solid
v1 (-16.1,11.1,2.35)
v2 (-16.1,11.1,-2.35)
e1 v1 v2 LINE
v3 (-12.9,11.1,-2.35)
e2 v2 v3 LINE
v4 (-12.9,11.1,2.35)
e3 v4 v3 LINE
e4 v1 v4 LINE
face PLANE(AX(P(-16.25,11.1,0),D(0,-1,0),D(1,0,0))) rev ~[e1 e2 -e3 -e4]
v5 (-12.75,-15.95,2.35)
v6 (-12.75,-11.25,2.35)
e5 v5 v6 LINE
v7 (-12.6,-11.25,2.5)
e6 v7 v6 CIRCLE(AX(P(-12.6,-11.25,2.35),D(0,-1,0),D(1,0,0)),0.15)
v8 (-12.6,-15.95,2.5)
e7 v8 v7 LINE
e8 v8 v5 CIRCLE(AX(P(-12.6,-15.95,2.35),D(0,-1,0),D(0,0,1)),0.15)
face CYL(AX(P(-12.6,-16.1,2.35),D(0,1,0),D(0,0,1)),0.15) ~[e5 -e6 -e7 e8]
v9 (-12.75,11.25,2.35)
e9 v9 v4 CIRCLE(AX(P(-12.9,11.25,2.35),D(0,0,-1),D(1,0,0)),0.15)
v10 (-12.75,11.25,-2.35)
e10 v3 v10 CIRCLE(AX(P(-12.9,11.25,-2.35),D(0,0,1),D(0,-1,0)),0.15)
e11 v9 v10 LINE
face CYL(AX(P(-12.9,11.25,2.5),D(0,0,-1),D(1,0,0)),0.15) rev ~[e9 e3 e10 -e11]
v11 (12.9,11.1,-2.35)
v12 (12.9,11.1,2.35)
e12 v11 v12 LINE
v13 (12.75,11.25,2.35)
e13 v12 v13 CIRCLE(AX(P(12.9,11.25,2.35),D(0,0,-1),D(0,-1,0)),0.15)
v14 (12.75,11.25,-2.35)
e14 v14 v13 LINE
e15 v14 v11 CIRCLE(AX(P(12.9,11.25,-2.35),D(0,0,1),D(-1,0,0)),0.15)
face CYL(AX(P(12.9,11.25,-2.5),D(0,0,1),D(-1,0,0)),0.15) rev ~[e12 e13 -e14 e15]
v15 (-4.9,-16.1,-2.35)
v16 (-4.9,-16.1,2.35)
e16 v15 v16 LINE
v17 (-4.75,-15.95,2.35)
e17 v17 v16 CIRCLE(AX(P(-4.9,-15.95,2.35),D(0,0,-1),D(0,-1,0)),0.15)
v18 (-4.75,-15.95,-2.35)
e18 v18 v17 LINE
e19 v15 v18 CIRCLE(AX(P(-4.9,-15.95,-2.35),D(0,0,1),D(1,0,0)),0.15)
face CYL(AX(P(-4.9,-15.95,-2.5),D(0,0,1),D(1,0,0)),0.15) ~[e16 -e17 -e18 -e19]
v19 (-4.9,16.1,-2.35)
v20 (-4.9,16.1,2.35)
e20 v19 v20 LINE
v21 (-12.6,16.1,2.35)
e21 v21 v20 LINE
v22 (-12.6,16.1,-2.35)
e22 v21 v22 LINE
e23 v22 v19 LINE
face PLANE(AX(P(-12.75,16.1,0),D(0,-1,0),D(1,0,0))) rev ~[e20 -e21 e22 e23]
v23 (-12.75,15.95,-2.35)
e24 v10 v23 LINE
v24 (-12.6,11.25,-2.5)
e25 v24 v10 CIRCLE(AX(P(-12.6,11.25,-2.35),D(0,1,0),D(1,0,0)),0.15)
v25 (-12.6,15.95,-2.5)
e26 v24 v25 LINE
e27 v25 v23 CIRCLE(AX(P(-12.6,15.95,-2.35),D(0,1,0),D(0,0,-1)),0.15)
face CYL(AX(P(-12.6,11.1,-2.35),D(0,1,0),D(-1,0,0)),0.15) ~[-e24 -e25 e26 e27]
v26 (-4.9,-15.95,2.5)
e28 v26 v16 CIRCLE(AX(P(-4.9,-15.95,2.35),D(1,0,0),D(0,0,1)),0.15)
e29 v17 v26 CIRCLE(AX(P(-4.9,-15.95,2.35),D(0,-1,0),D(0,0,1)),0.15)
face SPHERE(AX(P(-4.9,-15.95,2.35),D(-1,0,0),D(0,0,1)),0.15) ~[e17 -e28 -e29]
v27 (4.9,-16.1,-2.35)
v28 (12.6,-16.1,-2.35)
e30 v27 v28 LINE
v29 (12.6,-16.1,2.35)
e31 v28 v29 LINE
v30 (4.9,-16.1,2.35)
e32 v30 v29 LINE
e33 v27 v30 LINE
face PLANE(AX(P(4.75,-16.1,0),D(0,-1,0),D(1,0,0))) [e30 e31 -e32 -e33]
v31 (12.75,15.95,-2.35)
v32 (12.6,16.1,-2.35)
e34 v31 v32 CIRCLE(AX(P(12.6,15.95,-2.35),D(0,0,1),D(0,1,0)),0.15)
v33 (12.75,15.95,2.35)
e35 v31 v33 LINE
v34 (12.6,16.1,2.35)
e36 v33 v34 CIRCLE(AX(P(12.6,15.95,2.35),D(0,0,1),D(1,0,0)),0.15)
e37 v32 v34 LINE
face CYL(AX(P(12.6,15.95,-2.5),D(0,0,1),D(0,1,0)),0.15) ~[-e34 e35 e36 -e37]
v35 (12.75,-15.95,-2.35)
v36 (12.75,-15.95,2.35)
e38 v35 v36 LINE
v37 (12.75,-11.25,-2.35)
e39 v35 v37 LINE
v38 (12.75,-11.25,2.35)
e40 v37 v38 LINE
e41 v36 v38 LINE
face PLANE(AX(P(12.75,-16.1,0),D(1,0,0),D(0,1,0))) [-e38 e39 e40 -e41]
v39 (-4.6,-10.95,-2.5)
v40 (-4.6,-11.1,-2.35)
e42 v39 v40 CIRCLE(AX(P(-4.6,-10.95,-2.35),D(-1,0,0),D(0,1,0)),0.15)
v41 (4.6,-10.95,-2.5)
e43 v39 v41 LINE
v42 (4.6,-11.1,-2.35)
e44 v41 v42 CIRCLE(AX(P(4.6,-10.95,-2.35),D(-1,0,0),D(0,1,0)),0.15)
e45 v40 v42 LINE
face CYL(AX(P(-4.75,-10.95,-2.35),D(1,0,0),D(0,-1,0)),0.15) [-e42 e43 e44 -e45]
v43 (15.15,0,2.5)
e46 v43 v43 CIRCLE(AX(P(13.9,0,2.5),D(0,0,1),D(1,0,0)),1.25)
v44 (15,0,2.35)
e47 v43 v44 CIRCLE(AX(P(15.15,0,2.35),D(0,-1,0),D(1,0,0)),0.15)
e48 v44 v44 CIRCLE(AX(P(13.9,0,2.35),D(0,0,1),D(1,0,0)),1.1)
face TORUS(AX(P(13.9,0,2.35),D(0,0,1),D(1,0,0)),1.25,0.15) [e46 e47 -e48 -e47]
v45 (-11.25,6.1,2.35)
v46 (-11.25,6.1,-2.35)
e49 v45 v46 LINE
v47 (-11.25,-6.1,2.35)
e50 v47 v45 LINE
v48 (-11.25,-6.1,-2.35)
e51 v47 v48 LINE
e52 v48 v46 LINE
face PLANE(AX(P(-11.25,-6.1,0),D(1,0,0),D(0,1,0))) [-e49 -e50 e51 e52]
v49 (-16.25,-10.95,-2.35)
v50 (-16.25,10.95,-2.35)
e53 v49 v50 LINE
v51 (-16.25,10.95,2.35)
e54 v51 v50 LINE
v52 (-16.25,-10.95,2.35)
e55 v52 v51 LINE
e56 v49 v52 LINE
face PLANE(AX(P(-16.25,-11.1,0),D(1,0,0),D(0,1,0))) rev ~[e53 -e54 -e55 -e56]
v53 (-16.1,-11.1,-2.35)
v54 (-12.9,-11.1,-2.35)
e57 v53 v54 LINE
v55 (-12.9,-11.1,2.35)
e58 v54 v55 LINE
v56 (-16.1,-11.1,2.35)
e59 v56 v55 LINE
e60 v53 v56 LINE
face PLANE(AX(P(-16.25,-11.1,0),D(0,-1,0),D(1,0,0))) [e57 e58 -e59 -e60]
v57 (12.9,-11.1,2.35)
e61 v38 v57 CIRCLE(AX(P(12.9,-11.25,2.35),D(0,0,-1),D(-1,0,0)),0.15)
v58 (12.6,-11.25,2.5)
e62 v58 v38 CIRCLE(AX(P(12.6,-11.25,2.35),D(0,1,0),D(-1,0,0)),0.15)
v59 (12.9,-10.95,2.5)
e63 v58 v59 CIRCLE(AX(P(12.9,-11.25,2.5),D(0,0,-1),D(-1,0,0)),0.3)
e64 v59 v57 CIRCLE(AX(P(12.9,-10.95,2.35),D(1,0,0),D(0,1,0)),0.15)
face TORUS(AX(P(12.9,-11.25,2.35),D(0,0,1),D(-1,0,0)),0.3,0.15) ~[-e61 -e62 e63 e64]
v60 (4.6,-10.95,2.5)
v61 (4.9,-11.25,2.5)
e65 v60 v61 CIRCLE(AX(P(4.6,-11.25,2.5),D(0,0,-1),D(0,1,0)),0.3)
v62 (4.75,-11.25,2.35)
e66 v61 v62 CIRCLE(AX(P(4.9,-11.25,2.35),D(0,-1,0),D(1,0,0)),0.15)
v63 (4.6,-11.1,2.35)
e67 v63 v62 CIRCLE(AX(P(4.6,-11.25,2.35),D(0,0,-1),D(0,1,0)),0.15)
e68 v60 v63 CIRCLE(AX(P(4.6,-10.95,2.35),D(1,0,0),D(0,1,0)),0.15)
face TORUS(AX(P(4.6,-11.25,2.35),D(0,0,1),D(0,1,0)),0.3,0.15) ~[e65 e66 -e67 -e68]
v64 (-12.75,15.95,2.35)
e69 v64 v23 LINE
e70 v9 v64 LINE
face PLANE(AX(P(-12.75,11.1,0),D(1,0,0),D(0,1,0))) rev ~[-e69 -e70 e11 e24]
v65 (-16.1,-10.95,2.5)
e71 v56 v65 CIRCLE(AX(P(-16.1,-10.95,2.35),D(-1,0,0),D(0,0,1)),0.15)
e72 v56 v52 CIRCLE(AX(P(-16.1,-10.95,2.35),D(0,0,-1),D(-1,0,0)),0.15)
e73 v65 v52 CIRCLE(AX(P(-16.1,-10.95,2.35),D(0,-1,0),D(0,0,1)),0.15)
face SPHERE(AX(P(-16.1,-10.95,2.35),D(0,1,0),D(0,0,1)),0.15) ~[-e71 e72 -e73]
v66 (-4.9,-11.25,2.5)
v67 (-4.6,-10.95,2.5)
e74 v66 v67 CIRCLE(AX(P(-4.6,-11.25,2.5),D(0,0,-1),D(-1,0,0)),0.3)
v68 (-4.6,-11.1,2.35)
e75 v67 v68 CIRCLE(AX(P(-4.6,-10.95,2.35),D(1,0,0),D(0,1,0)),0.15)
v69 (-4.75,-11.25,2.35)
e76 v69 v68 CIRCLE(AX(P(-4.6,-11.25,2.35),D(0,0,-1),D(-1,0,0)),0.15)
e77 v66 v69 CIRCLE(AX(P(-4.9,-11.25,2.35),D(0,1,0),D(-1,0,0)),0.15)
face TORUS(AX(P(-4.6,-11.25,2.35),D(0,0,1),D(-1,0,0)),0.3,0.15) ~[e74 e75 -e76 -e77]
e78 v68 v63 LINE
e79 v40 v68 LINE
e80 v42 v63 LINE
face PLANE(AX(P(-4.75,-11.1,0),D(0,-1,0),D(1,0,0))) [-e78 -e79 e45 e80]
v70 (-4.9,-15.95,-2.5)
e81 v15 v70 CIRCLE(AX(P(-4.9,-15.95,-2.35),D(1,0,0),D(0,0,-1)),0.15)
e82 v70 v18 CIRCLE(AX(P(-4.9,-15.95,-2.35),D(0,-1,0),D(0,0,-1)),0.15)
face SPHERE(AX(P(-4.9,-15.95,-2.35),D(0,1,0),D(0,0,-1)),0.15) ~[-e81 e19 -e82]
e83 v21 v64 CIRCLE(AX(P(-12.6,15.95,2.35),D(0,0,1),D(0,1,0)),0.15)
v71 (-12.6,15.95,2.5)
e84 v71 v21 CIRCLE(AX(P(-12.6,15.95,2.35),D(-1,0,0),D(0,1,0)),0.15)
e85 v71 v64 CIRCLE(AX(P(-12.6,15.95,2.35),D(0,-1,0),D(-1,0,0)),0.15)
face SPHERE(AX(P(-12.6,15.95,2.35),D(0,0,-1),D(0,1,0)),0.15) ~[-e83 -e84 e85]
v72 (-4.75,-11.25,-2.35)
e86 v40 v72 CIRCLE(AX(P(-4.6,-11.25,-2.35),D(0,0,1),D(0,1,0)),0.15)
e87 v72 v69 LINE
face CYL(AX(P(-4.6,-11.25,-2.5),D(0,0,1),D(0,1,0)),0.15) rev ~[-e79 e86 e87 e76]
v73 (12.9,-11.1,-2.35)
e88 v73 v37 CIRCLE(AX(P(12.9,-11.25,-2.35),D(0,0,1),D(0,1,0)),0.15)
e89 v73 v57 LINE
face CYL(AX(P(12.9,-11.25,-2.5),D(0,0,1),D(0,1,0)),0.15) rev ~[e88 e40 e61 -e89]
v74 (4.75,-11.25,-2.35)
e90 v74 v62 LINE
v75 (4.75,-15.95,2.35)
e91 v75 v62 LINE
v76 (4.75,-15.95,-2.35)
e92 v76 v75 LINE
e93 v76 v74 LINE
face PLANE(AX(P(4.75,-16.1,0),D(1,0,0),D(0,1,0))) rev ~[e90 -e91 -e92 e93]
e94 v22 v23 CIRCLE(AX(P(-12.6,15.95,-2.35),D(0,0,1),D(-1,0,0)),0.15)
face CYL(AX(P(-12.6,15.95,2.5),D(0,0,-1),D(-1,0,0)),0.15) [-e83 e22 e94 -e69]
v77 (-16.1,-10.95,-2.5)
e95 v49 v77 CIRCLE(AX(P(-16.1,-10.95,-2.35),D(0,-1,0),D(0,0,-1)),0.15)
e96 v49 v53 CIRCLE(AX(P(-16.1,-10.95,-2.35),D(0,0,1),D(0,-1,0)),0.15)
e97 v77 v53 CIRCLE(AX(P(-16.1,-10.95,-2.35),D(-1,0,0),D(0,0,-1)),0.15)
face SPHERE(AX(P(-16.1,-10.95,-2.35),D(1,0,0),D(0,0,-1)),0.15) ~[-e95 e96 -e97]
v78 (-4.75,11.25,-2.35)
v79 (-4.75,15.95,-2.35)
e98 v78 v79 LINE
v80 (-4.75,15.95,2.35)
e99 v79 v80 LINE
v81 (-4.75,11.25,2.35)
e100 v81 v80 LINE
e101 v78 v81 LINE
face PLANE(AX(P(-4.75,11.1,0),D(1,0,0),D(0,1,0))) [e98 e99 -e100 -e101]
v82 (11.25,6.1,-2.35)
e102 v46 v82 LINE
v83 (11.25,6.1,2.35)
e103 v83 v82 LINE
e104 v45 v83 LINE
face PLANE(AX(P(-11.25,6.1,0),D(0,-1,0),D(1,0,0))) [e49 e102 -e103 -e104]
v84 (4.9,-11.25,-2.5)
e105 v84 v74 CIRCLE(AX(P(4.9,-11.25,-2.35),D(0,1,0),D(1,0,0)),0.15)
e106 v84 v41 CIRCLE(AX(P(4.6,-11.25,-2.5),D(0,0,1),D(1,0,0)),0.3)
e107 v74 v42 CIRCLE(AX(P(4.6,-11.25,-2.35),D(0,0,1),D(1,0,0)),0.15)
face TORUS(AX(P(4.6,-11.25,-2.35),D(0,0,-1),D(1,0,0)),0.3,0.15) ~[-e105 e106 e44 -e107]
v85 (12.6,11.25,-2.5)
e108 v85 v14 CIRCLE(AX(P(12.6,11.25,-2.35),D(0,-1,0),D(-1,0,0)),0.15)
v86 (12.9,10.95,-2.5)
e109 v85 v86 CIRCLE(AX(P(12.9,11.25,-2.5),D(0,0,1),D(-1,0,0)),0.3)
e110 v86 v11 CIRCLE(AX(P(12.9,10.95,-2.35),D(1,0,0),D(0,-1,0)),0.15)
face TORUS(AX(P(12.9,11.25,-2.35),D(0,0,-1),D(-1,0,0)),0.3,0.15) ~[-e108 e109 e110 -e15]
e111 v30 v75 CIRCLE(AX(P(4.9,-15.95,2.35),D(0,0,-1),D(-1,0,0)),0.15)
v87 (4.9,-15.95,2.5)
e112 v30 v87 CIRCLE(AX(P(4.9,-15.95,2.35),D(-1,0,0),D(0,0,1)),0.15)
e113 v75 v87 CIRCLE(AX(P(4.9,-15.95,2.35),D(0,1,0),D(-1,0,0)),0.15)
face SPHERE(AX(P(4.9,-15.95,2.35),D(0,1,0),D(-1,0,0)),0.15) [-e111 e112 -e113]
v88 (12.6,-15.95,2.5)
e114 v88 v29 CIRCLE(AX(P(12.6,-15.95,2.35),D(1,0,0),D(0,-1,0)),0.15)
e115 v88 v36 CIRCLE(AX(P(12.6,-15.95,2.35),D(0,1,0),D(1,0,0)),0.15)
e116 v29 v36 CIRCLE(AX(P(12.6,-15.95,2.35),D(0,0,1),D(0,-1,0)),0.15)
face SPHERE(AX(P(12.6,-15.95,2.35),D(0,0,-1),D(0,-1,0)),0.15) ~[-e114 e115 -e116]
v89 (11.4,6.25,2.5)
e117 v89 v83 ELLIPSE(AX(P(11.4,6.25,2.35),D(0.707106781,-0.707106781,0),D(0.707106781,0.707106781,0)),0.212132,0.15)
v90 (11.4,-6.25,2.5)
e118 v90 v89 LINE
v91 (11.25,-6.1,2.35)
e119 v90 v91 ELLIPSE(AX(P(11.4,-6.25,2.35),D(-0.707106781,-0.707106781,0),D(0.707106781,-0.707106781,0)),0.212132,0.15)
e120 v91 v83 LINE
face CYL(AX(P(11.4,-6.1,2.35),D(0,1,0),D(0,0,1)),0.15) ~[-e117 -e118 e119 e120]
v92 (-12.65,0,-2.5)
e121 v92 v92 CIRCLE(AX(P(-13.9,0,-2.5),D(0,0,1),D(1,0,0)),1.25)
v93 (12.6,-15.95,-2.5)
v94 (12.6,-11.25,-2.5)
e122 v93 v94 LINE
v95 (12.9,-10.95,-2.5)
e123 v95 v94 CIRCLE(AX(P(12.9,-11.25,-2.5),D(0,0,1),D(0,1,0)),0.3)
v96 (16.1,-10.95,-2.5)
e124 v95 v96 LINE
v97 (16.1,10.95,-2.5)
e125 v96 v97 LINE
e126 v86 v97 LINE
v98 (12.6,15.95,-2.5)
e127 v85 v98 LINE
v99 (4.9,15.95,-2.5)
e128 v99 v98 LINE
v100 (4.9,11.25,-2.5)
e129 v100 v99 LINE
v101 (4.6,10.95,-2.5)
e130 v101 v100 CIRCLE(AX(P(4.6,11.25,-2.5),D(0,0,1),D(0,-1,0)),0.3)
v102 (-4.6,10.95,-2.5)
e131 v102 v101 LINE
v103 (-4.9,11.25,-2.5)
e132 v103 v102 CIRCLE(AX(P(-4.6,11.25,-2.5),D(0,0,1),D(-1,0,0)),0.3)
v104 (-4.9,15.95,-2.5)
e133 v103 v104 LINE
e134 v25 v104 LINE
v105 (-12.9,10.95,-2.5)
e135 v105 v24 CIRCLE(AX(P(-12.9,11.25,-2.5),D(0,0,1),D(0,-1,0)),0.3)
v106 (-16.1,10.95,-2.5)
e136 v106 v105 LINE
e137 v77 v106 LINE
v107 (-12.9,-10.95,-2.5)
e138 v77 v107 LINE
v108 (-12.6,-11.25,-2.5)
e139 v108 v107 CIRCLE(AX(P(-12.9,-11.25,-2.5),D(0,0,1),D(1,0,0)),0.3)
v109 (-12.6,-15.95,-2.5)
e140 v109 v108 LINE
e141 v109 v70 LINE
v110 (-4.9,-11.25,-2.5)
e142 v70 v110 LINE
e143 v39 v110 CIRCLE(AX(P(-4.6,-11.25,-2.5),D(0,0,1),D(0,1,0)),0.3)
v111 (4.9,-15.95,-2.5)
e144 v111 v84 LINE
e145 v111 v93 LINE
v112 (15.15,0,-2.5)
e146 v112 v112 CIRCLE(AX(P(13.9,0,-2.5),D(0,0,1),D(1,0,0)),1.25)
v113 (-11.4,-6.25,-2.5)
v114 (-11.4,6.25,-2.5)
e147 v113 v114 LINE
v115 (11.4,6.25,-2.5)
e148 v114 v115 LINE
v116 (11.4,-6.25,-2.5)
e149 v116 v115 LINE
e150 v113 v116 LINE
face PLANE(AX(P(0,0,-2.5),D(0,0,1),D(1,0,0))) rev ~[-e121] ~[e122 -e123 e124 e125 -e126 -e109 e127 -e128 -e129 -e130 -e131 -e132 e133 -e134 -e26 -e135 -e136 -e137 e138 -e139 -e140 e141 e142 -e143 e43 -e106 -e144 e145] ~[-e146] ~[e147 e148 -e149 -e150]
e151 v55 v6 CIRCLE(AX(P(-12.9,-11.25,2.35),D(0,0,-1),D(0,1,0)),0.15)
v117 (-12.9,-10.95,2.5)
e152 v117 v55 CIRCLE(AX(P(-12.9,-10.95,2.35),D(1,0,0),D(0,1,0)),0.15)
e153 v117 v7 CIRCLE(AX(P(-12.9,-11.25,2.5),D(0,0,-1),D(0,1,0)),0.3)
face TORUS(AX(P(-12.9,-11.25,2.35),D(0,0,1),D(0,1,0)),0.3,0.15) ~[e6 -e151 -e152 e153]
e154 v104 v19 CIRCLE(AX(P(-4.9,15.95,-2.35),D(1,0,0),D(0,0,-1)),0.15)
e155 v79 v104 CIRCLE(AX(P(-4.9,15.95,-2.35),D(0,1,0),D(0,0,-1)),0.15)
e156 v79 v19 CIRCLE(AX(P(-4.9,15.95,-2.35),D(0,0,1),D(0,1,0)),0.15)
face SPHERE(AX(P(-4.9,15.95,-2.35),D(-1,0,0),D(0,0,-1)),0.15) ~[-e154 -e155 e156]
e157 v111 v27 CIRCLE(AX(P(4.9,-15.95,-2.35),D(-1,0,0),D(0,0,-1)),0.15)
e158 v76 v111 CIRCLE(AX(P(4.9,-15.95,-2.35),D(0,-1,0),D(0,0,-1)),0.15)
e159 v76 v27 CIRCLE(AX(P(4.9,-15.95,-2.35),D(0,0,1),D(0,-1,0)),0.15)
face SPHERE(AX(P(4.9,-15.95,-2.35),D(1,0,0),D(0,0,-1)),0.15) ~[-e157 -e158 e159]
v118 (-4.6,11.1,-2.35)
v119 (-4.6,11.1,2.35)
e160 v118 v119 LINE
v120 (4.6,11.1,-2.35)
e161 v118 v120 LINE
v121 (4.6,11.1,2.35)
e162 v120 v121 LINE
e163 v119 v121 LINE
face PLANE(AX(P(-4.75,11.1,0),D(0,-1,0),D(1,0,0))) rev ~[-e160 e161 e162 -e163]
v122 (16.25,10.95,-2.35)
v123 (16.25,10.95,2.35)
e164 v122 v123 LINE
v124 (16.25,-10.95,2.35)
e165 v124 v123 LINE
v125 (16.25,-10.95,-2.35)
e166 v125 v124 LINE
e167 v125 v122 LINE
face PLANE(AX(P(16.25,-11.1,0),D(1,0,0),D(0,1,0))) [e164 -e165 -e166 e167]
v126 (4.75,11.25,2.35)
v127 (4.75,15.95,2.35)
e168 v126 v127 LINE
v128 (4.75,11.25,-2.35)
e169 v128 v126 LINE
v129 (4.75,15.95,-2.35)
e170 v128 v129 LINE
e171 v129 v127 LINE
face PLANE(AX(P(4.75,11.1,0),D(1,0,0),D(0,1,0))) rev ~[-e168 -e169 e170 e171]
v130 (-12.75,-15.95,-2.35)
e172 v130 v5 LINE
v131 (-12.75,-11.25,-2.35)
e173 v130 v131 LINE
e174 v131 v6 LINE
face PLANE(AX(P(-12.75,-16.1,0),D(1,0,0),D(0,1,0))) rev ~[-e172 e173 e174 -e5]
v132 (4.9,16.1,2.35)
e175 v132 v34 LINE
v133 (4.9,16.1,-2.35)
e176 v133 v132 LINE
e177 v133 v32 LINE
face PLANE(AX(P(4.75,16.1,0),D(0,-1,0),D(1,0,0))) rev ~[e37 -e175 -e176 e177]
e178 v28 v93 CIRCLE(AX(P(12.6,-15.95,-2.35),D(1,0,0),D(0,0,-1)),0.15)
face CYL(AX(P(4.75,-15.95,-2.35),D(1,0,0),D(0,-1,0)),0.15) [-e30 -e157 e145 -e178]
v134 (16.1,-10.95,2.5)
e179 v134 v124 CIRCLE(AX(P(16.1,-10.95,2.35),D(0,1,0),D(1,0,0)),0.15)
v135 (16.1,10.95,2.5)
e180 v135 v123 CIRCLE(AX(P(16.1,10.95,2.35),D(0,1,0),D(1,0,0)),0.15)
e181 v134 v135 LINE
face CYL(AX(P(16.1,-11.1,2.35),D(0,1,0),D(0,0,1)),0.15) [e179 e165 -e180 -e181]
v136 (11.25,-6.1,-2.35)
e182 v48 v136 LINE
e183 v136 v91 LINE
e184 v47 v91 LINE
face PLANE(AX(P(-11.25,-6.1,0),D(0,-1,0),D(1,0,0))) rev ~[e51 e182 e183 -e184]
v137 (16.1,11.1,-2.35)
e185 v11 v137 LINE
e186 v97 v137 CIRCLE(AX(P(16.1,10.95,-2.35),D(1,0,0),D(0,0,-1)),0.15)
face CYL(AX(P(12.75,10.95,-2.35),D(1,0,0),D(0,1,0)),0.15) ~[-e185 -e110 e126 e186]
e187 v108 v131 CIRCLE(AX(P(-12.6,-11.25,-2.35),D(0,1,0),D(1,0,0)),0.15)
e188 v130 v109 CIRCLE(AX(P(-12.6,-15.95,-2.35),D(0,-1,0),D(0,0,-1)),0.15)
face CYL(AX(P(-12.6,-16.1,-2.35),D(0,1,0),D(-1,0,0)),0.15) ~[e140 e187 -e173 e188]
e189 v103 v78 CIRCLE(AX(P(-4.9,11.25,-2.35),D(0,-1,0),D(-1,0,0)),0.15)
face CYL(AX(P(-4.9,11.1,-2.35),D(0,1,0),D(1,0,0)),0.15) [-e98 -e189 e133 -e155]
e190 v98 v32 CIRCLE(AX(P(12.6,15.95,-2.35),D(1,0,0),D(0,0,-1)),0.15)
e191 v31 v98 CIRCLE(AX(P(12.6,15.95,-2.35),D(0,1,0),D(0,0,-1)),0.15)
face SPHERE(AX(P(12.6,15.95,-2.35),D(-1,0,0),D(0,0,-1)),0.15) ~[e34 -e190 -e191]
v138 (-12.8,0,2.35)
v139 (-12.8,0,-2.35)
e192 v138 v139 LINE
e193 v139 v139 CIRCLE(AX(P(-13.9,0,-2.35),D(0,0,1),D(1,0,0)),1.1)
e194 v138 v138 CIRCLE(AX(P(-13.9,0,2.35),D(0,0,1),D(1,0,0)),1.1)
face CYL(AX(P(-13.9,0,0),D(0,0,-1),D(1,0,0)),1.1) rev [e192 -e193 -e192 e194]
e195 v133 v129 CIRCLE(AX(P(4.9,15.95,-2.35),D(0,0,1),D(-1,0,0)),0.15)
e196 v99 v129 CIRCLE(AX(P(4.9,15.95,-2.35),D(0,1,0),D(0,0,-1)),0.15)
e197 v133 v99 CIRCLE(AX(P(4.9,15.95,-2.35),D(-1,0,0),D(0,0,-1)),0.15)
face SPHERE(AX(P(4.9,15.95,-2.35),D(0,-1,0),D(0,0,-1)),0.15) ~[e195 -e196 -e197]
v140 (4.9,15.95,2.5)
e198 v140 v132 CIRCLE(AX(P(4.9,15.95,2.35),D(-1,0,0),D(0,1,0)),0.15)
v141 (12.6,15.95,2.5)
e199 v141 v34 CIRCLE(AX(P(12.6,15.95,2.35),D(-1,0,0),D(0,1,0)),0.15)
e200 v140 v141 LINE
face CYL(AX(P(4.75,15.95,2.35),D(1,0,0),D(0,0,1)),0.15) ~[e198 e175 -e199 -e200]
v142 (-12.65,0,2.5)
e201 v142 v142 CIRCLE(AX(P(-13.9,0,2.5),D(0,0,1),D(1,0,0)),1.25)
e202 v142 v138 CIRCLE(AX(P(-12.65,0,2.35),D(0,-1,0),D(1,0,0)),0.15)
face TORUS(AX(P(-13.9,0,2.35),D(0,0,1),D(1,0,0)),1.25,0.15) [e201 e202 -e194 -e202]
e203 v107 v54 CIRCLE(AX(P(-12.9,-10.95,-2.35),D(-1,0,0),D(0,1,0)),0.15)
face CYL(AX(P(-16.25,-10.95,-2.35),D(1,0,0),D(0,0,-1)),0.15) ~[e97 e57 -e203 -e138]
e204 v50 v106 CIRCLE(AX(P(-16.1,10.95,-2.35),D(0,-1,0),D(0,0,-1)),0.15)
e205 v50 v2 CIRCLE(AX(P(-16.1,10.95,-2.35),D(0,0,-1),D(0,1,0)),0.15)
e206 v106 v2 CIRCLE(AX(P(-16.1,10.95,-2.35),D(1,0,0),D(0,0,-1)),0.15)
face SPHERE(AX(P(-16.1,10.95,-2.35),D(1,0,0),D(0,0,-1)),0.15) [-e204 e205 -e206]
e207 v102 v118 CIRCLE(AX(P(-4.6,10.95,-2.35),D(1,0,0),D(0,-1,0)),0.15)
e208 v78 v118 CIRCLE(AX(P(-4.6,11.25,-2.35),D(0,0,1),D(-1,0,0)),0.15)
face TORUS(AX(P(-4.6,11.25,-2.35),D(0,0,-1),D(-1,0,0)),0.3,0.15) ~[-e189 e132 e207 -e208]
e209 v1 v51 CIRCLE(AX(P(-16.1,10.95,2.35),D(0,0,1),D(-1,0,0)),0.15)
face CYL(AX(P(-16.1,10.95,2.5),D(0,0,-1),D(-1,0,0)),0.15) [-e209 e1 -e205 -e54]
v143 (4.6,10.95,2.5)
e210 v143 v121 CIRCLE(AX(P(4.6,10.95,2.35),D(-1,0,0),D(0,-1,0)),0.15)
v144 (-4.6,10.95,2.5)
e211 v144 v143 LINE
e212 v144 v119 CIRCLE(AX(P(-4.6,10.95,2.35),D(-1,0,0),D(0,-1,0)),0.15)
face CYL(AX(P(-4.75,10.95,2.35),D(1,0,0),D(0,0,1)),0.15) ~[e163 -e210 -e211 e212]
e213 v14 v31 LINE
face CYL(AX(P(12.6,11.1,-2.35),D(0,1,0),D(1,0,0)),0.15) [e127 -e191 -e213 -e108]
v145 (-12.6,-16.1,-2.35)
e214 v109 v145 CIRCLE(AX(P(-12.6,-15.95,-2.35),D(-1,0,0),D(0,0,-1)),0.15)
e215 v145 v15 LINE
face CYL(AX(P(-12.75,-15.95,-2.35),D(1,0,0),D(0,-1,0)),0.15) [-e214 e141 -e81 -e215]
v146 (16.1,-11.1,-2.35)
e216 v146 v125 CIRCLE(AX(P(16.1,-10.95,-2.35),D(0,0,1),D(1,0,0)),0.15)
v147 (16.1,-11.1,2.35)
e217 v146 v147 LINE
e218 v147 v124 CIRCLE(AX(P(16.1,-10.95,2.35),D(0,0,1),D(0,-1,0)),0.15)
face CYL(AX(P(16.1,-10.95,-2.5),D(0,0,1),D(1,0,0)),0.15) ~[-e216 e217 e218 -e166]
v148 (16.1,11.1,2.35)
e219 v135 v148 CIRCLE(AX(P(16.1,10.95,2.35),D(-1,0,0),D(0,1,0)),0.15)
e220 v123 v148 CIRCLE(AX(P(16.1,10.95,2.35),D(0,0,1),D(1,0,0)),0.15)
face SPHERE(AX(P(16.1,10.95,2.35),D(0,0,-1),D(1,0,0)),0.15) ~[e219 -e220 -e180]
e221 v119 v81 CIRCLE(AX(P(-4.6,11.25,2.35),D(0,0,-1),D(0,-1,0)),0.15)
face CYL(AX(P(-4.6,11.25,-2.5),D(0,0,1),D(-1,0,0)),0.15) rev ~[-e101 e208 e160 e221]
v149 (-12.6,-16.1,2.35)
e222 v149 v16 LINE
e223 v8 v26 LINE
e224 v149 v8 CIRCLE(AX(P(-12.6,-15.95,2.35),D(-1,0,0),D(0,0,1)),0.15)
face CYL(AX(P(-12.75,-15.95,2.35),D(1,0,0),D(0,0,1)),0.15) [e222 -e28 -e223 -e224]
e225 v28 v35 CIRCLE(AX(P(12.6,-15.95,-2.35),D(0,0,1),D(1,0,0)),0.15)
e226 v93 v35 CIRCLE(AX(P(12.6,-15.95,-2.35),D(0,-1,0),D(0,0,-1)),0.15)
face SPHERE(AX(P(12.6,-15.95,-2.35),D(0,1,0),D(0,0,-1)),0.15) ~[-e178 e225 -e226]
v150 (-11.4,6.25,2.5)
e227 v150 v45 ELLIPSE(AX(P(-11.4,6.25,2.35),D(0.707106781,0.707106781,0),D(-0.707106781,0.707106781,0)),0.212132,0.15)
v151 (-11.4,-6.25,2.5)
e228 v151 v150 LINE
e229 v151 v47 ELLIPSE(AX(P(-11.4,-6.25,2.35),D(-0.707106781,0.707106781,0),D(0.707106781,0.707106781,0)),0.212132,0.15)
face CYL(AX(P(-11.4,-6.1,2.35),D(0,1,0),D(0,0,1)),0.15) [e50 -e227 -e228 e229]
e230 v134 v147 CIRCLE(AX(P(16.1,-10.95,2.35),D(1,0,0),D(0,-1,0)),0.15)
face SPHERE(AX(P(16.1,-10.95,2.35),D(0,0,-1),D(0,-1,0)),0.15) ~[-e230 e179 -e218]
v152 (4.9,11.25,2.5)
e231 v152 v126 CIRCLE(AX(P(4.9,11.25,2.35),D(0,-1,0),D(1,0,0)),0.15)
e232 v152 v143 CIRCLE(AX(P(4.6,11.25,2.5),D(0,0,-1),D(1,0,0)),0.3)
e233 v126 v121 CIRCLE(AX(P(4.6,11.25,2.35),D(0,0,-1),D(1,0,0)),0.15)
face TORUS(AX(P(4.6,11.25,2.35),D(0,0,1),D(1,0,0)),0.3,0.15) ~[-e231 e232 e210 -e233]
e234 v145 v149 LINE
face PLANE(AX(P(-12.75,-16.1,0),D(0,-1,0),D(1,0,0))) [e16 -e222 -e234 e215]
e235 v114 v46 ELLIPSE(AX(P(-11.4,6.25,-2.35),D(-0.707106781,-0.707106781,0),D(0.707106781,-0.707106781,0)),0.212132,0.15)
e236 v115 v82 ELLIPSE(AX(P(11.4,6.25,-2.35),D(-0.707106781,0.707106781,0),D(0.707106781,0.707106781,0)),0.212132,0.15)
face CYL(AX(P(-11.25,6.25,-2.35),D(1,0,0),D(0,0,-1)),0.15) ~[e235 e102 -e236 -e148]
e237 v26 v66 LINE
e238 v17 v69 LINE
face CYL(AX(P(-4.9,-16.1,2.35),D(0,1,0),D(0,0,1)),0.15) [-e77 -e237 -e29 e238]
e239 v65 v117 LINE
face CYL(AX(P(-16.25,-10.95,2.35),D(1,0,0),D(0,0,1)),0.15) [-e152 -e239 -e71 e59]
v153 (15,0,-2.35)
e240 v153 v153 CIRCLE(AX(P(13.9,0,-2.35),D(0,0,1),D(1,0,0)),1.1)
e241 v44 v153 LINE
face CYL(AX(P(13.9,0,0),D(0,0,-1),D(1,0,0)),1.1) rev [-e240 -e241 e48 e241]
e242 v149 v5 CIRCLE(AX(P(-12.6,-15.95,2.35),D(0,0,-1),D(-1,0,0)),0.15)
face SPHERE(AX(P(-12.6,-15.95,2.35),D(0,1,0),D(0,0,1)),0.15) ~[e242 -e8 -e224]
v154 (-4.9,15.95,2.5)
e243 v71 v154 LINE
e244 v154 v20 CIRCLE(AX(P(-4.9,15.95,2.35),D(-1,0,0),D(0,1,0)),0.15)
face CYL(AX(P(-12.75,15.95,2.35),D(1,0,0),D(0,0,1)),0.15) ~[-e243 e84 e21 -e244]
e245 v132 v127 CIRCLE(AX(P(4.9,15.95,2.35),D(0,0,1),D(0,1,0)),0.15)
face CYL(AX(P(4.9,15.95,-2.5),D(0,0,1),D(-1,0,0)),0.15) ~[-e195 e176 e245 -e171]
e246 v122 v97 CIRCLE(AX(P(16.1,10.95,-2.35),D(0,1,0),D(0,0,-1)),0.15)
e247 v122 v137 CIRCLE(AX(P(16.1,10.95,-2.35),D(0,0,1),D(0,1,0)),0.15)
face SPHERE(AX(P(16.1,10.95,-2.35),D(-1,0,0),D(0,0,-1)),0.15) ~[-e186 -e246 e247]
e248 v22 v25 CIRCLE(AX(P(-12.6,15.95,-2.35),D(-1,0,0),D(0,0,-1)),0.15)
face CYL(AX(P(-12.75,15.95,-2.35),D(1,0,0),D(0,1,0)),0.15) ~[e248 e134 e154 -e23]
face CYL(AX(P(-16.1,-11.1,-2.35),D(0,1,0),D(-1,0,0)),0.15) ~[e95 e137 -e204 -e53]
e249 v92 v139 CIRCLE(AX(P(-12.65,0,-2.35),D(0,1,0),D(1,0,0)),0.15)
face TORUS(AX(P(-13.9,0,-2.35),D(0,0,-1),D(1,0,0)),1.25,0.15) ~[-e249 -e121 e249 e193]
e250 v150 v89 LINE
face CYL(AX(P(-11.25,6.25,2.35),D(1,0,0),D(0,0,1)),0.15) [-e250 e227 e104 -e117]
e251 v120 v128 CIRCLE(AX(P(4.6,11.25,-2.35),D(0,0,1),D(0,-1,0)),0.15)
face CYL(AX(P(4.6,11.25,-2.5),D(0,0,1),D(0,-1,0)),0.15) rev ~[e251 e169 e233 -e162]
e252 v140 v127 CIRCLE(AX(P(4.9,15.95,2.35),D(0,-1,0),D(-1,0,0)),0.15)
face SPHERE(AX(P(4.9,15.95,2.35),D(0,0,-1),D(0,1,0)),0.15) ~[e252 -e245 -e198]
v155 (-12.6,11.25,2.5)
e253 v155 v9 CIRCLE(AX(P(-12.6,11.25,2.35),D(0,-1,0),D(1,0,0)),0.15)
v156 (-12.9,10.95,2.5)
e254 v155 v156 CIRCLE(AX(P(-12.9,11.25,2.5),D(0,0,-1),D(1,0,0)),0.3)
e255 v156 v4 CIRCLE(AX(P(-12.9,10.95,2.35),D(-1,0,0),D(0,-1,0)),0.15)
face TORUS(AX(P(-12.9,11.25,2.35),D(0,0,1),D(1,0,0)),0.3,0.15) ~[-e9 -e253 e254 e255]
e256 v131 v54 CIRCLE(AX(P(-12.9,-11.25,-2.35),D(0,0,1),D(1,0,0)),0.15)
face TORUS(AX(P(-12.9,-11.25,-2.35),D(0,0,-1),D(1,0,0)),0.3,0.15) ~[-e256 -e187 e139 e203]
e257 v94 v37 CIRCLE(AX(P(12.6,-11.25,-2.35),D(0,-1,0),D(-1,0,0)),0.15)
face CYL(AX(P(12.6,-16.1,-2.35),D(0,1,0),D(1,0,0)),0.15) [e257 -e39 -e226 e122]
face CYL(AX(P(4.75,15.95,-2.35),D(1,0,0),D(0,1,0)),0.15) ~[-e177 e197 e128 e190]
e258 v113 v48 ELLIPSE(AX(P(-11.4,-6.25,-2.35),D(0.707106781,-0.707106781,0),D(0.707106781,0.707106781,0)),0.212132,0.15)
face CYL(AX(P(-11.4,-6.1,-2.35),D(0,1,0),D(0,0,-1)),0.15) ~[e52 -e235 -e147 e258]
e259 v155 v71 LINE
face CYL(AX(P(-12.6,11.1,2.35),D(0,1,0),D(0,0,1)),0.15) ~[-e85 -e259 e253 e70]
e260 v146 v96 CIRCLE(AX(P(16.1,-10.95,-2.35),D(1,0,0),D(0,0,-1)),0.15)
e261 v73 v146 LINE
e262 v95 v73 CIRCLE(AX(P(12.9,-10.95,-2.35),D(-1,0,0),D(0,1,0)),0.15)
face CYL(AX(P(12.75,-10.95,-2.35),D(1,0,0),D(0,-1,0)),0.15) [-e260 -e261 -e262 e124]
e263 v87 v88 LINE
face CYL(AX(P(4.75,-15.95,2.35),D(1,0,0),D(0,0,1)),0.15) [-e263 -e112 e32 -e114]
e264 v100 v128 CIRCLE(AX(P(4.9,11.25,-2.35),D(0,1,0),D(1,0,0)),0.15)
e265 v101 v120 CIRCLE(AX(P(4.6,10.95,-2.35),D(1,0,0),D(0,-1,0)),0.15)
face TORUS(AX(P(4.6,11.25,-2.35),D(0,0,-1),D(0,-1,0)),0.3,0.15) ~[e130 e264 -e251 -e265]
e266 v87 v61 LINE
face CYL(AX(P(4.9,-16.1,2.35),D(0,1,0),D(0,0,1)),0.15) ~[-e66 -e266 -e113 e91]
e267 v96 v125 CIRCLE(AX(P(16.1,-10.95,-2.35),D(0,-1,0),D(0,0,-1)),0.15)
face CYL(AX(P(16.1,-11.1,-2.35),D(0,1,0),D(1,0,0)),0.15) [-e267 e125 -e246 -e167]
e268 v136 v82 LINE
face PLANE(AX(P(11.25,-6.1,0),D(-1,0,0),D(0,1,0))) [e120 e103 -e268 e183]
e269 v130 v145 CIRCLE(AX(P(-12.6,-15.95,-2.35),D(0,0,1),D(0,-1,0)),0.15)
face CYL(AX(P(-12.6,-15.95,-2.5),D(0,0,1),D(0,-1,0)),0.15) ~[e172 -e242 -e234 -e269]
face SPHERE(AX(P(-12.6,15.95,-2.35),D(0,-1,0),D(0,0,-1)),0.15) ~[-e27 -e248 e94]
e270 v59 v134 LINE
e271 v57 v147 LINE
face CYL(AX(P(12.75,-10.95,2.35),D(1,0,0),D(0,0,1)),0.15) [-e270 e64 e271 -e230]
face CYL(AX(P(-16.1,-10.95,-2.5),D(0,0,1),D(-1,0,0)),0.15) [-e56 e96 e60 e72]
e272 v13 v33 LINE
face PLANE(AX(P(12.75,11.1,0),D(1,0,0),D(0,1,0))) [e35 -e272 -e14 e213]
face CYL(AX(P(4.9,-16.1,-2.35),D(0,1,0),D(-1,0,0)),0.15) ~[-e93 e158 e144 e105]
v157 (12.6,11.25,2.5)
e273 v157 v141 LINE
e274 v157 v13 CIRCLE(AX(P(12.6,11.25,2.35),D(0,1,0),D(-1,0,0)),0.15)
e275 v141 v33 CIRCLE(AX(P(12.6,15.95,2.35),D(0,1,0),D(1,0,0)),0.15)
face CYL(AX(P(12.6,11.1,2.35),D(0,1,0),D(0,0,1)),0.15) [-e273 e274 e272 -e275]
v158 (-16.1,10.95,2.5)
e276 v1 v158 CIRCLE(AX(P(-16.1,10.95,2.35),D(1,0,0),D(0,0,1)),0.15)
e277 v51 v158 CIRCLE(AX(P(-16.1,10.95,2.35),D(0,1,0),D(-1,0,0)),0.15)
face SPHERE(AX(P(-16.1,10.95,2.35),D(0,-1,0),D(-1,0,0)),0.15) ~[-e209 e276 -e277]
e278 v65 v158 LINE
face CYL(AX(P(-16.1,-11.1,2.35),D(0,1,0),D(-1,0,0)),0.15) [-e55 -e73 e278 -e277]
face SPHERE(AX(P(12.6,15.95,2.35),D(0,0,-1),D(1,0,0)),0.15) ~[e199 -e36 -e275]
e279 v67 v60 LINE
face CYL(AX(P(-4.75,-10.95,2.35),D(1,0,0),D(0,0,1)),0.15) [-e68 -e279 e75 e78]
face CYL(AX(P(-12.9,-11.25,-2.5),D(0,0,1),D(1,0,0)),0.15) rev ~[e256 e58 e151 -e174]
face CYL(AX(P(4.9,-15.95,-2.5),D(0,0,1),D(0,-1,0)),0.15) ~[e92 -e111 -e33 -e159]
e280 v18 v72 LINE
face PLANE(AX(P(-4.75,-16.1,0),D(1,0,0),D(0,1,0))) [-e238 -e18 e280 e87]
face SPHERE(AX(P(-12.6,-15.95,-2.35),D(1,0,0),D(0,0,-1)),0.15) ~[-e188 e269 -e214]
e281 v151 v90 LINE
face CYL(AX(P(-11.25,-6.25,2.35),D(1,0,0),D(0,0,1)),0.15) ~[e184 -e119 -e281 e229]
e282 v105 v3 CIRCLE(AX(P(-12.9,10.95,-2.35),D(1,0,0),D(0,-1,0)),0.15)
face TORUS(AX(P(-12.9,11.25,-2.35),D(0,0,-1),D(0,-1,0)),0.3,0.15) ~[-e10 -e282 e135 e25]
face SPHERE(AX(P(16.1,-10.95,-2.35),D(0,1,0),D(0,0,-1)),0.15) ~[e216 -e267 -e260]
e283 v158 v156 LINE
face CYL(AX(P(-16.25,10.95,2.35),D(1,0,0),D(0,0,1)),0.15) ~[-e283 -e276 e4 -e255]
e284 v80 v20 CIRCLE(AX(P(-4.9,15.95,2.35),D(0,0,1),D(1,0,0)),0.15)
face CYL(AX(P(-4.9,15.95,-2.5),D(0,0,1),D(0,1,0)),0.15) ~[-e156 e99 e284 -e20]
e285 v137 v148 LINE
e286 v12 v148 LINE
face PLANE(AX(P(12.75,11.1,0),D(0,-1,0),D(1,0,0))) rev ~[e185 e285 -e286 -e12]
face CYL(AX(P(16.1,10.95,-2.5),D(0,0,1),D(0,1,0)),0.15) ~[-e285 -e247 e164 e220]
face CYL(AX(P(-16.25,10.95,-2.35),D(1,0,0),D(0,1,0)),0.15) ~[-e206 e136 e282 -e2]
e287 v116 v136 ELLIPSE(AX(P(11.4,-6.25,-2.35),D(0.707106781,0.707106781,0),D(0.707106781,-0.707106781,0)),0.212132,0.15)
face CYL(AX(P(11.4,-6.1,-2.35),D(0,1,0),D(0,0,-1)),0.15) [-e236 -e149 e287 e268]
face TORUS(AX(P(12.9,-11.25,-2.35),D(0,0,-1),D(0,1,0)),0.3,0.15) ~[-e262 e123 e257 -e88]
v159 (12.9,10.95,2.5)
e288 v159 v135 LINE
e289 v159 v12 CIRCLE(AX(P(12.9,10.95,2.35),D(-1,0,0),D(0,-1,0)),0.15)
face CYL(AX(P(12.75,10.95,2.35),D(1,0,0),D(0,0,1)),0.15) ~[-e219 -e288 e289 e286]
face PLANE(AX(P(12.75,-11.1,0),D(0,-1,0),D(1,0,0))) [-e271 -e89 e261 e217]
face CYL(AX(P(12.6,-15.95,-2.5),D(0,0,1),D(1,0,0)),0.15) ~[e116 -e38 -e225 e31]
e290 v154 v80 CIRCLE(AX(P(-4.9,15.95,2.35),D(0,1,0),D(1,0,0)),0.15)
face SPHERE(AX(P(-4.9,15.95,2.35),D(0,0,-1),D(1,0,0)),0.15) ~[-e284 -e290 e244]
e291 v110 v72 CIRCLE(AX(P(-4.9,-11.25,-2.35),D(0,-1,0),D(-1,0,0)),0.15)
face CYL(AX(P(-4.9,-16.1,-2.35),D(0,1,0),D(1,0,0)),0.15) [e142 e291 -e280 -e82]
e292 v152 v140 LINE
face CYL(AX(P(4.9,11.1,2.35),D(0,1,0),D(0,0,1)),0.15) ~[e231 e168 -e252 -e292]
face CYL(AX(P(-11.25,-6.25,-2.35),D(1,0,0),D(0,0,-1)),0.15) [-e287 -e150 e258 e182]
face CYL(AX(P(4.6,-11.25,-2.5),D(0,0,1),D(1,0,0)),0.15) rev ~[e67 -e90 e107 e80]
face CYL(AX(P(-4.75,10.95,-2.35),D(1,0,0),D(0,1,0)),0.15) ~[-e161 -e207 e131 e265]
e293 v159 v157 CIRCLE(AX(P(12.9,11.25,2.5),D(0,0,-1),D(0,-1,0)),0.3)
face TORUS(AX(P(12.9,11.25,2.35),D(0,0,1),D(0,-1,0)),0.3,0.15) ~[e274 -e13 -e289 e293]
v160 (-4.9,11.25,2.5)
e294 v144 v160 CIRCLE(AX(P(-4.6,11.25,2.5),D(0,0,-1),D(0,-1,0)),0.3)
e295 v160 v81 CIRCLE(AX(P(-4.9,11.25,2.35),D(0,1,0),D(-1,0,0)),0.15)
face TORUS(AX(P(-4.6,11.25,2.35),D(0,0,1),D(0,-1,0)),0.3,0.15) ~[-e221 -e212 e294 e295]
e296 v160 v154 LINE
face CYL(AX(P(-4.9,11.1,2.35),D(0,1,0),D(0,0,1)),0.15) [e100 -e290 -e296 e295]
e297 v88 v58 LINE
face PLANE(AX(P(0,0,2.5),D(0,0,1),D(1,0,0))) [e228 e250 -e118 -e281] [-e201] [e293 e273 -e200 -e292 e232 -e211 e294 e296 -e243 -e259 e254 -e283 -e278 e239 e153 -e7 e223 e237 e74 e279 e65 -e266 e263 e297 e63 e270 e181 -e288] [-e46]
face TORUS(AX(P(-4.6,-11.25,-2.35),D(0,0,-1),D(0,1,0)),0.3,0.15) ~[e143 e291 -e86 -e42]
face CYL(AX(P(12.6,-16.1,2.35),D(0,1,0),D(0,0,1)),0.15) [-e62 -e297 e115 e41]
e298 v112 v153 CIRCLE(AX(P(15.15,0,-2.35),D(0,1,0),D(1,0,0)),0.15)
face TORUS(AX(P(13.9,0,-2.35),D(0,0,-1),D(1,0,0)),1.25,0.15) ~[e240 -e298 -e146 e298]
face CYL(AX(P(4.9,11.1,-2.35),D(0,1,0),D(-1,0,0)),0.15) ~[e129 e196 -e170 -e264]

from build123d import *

# Parameters (mm, degrees)
SZKIC1_W                    = 32.5
SZKIC1_H                    = 22.2
SZKIC1_R                    = 1.1
SZKIC1_W_2                  = 22.5
SZKIC1_H_2                  = 12.2
SZKIC1_W_3                  = 8
SZKIC1_H_3                  = 5
DODANIE_WYCI_GNI_CIE1_DEPTH = 2.5
ZAOKR_GLENIE1_R             = 0.15
ZAOKR_GLENIE2_R             = 0.15


with BuildPart() as part:
    # Szkic1 → Dodanie-wyciągnięcie1 (new body, symmetric)
    with BuildSketch(Plane.XY):
        Rectangle(SZKIC1_W, SZKIC1_H)
        with Locations((-13.9, 0)):
            Circle(SZKIC1_R, mode=Mode.SUBTRACT)
        with Locations((13.9, 0)):
            Circle(SZKIC1_R, mode=Mode.SUBTRACT)
        Rectangle(SZKIC1_W_2, SZKIC1_H_2, mode=Mode.SUBTRACT)
        with Locations((-8.75, -13.6)):
            Rectangle(SZKIC1_W_3, SZKIC1_H_3)
        with Locations((8.75, -13.6)):
            Rectangle(SZKIC1_W_3, SZKIC1_H_3)
        with Locations((8.75, 13.6)):
            Rectangle(SZKIC1_W_3, SZKIC1_H_3)
        with Locations((-8.75, 13.6)):
            Rectangle(SZKIC1_W_3, SZKIC1_H_3)
    extrude(amount=DODANIE_WYCI_GNI_CIE1_DEPTH, both=True)

    # Zaokrąglenie1
    zaokr_glenie1_edges = [part.edges().sort_by_distance(p)[0] for p in [
        (-16.25, 0, 2.5),
        (-14.5, 11.1, -2.5),
        (-14.5, -11.1, 2.5),
        (-12.75, 13.6, -2.5),
        (-8.75, 16.1, -2.5),
        (-4.75, 13.6, -2.5),
        (0, 11.1, -2.5),
        (4.75, 13.6, -2.5),
        (8.75, 16.1, -2.5),
        (12.75, 13.6, -2.5),
        (14.5, 11.1, -2.5),
        (-12.75, -13.6, 2.5),
        (16.25, 0, -2.5),
        (14.5, -11.1, -2.5),
        (12.75, -13.6, -2.5),
        (8.75, -16.1, -2.5),
        (4.75, -13.6, -2.5),
        (0, -11.1, -2.5),
        (-4.75, -13.6, -2.5),
        (-8.75, -16.1, 2.5),
        (-8.75, -16.1, -2.5),
        (-12.75, -13.6, -2.5),
        (-14.5, -11.1, -2.5),
        (-16.25, 0, -2.5),
        (-4.75, -13.6, 2.5),
        (0, -11.1, 2.5),
        (4.75, -13.6, 2.5),
        (-16.25, 11.1, 0),
        (-12.75, 11.1, 0),
        (-12.75, 16.1, 0),
        (-4.75, 16.1, 0),
        (-4.75, 11.1, 0),
        (4.75, 11.1, 0),
        (4.75, 16.1, 0),
        (12.75, 16.1, 0),
        (12.75, 11.1, 0),
        (16.25, 11.1, 0),
        (16.25, -11.1, 0),
        (12.75, -11.1, 0),
        (12.75, -16.1, 0),
        (4.75, -16.1, 0),
        (4.75, -11.1, 0),
        (-4.75, -11.1, 0),
        (-4.75, -16.1, 0),
        (-12.75, -16.1, 0),
        (-12.75, -11.1, 0),
        (-16.25, -11.1, 0),
        (8.75, -16.1, 2.5),
        (12.75, -13.6, 2.5),
        (14.5, -11.1, 2.5),
        (16.25, 0, 2.5),
        (14.5, 11.1, 2.5),
        (12.75, 13.6, 2.5),
        (8.75, 16.1, 2.5),
        (4.75, 13.6, 2.5),
        (0, 11.1, 2.5),
        (-4.75, 13.6, 2.5),
        (-8.75, 16.1, 2.5),
        (-12.75, 13.6, 2.5),
        (-14.5, 11.1, 2.5),
    ]]
    fillet(zaokr_glenie1_edges, radius=ZAOKR_GLENIE1_R)

    # Zaokrąglenie2
    zaokr_glenie2_edges = [part.edges().sort_by_distance(p)[0] for p in [
        (-15, 0, 2.5),
        (12.8, 0, 2.5),
        (0, -6.1, 2.5),
        (-11.25, 0, 2.5),
        (0, 6.1, 2.5),
        (12.8, 0, -2.5),
        (-15, 0, -2.5),
        (0, 6.1, -2.5),
        (-11.25, 0, -2.5),
        (0, -6.1, -2.5),
        (11.25, 0, -2.5),
        (11.25, 0, 2.5),
    ]]
    fillet(zaokr_glenie2_edges, radius=ZAOKR_GLENIE2_R)


solid = part.part
